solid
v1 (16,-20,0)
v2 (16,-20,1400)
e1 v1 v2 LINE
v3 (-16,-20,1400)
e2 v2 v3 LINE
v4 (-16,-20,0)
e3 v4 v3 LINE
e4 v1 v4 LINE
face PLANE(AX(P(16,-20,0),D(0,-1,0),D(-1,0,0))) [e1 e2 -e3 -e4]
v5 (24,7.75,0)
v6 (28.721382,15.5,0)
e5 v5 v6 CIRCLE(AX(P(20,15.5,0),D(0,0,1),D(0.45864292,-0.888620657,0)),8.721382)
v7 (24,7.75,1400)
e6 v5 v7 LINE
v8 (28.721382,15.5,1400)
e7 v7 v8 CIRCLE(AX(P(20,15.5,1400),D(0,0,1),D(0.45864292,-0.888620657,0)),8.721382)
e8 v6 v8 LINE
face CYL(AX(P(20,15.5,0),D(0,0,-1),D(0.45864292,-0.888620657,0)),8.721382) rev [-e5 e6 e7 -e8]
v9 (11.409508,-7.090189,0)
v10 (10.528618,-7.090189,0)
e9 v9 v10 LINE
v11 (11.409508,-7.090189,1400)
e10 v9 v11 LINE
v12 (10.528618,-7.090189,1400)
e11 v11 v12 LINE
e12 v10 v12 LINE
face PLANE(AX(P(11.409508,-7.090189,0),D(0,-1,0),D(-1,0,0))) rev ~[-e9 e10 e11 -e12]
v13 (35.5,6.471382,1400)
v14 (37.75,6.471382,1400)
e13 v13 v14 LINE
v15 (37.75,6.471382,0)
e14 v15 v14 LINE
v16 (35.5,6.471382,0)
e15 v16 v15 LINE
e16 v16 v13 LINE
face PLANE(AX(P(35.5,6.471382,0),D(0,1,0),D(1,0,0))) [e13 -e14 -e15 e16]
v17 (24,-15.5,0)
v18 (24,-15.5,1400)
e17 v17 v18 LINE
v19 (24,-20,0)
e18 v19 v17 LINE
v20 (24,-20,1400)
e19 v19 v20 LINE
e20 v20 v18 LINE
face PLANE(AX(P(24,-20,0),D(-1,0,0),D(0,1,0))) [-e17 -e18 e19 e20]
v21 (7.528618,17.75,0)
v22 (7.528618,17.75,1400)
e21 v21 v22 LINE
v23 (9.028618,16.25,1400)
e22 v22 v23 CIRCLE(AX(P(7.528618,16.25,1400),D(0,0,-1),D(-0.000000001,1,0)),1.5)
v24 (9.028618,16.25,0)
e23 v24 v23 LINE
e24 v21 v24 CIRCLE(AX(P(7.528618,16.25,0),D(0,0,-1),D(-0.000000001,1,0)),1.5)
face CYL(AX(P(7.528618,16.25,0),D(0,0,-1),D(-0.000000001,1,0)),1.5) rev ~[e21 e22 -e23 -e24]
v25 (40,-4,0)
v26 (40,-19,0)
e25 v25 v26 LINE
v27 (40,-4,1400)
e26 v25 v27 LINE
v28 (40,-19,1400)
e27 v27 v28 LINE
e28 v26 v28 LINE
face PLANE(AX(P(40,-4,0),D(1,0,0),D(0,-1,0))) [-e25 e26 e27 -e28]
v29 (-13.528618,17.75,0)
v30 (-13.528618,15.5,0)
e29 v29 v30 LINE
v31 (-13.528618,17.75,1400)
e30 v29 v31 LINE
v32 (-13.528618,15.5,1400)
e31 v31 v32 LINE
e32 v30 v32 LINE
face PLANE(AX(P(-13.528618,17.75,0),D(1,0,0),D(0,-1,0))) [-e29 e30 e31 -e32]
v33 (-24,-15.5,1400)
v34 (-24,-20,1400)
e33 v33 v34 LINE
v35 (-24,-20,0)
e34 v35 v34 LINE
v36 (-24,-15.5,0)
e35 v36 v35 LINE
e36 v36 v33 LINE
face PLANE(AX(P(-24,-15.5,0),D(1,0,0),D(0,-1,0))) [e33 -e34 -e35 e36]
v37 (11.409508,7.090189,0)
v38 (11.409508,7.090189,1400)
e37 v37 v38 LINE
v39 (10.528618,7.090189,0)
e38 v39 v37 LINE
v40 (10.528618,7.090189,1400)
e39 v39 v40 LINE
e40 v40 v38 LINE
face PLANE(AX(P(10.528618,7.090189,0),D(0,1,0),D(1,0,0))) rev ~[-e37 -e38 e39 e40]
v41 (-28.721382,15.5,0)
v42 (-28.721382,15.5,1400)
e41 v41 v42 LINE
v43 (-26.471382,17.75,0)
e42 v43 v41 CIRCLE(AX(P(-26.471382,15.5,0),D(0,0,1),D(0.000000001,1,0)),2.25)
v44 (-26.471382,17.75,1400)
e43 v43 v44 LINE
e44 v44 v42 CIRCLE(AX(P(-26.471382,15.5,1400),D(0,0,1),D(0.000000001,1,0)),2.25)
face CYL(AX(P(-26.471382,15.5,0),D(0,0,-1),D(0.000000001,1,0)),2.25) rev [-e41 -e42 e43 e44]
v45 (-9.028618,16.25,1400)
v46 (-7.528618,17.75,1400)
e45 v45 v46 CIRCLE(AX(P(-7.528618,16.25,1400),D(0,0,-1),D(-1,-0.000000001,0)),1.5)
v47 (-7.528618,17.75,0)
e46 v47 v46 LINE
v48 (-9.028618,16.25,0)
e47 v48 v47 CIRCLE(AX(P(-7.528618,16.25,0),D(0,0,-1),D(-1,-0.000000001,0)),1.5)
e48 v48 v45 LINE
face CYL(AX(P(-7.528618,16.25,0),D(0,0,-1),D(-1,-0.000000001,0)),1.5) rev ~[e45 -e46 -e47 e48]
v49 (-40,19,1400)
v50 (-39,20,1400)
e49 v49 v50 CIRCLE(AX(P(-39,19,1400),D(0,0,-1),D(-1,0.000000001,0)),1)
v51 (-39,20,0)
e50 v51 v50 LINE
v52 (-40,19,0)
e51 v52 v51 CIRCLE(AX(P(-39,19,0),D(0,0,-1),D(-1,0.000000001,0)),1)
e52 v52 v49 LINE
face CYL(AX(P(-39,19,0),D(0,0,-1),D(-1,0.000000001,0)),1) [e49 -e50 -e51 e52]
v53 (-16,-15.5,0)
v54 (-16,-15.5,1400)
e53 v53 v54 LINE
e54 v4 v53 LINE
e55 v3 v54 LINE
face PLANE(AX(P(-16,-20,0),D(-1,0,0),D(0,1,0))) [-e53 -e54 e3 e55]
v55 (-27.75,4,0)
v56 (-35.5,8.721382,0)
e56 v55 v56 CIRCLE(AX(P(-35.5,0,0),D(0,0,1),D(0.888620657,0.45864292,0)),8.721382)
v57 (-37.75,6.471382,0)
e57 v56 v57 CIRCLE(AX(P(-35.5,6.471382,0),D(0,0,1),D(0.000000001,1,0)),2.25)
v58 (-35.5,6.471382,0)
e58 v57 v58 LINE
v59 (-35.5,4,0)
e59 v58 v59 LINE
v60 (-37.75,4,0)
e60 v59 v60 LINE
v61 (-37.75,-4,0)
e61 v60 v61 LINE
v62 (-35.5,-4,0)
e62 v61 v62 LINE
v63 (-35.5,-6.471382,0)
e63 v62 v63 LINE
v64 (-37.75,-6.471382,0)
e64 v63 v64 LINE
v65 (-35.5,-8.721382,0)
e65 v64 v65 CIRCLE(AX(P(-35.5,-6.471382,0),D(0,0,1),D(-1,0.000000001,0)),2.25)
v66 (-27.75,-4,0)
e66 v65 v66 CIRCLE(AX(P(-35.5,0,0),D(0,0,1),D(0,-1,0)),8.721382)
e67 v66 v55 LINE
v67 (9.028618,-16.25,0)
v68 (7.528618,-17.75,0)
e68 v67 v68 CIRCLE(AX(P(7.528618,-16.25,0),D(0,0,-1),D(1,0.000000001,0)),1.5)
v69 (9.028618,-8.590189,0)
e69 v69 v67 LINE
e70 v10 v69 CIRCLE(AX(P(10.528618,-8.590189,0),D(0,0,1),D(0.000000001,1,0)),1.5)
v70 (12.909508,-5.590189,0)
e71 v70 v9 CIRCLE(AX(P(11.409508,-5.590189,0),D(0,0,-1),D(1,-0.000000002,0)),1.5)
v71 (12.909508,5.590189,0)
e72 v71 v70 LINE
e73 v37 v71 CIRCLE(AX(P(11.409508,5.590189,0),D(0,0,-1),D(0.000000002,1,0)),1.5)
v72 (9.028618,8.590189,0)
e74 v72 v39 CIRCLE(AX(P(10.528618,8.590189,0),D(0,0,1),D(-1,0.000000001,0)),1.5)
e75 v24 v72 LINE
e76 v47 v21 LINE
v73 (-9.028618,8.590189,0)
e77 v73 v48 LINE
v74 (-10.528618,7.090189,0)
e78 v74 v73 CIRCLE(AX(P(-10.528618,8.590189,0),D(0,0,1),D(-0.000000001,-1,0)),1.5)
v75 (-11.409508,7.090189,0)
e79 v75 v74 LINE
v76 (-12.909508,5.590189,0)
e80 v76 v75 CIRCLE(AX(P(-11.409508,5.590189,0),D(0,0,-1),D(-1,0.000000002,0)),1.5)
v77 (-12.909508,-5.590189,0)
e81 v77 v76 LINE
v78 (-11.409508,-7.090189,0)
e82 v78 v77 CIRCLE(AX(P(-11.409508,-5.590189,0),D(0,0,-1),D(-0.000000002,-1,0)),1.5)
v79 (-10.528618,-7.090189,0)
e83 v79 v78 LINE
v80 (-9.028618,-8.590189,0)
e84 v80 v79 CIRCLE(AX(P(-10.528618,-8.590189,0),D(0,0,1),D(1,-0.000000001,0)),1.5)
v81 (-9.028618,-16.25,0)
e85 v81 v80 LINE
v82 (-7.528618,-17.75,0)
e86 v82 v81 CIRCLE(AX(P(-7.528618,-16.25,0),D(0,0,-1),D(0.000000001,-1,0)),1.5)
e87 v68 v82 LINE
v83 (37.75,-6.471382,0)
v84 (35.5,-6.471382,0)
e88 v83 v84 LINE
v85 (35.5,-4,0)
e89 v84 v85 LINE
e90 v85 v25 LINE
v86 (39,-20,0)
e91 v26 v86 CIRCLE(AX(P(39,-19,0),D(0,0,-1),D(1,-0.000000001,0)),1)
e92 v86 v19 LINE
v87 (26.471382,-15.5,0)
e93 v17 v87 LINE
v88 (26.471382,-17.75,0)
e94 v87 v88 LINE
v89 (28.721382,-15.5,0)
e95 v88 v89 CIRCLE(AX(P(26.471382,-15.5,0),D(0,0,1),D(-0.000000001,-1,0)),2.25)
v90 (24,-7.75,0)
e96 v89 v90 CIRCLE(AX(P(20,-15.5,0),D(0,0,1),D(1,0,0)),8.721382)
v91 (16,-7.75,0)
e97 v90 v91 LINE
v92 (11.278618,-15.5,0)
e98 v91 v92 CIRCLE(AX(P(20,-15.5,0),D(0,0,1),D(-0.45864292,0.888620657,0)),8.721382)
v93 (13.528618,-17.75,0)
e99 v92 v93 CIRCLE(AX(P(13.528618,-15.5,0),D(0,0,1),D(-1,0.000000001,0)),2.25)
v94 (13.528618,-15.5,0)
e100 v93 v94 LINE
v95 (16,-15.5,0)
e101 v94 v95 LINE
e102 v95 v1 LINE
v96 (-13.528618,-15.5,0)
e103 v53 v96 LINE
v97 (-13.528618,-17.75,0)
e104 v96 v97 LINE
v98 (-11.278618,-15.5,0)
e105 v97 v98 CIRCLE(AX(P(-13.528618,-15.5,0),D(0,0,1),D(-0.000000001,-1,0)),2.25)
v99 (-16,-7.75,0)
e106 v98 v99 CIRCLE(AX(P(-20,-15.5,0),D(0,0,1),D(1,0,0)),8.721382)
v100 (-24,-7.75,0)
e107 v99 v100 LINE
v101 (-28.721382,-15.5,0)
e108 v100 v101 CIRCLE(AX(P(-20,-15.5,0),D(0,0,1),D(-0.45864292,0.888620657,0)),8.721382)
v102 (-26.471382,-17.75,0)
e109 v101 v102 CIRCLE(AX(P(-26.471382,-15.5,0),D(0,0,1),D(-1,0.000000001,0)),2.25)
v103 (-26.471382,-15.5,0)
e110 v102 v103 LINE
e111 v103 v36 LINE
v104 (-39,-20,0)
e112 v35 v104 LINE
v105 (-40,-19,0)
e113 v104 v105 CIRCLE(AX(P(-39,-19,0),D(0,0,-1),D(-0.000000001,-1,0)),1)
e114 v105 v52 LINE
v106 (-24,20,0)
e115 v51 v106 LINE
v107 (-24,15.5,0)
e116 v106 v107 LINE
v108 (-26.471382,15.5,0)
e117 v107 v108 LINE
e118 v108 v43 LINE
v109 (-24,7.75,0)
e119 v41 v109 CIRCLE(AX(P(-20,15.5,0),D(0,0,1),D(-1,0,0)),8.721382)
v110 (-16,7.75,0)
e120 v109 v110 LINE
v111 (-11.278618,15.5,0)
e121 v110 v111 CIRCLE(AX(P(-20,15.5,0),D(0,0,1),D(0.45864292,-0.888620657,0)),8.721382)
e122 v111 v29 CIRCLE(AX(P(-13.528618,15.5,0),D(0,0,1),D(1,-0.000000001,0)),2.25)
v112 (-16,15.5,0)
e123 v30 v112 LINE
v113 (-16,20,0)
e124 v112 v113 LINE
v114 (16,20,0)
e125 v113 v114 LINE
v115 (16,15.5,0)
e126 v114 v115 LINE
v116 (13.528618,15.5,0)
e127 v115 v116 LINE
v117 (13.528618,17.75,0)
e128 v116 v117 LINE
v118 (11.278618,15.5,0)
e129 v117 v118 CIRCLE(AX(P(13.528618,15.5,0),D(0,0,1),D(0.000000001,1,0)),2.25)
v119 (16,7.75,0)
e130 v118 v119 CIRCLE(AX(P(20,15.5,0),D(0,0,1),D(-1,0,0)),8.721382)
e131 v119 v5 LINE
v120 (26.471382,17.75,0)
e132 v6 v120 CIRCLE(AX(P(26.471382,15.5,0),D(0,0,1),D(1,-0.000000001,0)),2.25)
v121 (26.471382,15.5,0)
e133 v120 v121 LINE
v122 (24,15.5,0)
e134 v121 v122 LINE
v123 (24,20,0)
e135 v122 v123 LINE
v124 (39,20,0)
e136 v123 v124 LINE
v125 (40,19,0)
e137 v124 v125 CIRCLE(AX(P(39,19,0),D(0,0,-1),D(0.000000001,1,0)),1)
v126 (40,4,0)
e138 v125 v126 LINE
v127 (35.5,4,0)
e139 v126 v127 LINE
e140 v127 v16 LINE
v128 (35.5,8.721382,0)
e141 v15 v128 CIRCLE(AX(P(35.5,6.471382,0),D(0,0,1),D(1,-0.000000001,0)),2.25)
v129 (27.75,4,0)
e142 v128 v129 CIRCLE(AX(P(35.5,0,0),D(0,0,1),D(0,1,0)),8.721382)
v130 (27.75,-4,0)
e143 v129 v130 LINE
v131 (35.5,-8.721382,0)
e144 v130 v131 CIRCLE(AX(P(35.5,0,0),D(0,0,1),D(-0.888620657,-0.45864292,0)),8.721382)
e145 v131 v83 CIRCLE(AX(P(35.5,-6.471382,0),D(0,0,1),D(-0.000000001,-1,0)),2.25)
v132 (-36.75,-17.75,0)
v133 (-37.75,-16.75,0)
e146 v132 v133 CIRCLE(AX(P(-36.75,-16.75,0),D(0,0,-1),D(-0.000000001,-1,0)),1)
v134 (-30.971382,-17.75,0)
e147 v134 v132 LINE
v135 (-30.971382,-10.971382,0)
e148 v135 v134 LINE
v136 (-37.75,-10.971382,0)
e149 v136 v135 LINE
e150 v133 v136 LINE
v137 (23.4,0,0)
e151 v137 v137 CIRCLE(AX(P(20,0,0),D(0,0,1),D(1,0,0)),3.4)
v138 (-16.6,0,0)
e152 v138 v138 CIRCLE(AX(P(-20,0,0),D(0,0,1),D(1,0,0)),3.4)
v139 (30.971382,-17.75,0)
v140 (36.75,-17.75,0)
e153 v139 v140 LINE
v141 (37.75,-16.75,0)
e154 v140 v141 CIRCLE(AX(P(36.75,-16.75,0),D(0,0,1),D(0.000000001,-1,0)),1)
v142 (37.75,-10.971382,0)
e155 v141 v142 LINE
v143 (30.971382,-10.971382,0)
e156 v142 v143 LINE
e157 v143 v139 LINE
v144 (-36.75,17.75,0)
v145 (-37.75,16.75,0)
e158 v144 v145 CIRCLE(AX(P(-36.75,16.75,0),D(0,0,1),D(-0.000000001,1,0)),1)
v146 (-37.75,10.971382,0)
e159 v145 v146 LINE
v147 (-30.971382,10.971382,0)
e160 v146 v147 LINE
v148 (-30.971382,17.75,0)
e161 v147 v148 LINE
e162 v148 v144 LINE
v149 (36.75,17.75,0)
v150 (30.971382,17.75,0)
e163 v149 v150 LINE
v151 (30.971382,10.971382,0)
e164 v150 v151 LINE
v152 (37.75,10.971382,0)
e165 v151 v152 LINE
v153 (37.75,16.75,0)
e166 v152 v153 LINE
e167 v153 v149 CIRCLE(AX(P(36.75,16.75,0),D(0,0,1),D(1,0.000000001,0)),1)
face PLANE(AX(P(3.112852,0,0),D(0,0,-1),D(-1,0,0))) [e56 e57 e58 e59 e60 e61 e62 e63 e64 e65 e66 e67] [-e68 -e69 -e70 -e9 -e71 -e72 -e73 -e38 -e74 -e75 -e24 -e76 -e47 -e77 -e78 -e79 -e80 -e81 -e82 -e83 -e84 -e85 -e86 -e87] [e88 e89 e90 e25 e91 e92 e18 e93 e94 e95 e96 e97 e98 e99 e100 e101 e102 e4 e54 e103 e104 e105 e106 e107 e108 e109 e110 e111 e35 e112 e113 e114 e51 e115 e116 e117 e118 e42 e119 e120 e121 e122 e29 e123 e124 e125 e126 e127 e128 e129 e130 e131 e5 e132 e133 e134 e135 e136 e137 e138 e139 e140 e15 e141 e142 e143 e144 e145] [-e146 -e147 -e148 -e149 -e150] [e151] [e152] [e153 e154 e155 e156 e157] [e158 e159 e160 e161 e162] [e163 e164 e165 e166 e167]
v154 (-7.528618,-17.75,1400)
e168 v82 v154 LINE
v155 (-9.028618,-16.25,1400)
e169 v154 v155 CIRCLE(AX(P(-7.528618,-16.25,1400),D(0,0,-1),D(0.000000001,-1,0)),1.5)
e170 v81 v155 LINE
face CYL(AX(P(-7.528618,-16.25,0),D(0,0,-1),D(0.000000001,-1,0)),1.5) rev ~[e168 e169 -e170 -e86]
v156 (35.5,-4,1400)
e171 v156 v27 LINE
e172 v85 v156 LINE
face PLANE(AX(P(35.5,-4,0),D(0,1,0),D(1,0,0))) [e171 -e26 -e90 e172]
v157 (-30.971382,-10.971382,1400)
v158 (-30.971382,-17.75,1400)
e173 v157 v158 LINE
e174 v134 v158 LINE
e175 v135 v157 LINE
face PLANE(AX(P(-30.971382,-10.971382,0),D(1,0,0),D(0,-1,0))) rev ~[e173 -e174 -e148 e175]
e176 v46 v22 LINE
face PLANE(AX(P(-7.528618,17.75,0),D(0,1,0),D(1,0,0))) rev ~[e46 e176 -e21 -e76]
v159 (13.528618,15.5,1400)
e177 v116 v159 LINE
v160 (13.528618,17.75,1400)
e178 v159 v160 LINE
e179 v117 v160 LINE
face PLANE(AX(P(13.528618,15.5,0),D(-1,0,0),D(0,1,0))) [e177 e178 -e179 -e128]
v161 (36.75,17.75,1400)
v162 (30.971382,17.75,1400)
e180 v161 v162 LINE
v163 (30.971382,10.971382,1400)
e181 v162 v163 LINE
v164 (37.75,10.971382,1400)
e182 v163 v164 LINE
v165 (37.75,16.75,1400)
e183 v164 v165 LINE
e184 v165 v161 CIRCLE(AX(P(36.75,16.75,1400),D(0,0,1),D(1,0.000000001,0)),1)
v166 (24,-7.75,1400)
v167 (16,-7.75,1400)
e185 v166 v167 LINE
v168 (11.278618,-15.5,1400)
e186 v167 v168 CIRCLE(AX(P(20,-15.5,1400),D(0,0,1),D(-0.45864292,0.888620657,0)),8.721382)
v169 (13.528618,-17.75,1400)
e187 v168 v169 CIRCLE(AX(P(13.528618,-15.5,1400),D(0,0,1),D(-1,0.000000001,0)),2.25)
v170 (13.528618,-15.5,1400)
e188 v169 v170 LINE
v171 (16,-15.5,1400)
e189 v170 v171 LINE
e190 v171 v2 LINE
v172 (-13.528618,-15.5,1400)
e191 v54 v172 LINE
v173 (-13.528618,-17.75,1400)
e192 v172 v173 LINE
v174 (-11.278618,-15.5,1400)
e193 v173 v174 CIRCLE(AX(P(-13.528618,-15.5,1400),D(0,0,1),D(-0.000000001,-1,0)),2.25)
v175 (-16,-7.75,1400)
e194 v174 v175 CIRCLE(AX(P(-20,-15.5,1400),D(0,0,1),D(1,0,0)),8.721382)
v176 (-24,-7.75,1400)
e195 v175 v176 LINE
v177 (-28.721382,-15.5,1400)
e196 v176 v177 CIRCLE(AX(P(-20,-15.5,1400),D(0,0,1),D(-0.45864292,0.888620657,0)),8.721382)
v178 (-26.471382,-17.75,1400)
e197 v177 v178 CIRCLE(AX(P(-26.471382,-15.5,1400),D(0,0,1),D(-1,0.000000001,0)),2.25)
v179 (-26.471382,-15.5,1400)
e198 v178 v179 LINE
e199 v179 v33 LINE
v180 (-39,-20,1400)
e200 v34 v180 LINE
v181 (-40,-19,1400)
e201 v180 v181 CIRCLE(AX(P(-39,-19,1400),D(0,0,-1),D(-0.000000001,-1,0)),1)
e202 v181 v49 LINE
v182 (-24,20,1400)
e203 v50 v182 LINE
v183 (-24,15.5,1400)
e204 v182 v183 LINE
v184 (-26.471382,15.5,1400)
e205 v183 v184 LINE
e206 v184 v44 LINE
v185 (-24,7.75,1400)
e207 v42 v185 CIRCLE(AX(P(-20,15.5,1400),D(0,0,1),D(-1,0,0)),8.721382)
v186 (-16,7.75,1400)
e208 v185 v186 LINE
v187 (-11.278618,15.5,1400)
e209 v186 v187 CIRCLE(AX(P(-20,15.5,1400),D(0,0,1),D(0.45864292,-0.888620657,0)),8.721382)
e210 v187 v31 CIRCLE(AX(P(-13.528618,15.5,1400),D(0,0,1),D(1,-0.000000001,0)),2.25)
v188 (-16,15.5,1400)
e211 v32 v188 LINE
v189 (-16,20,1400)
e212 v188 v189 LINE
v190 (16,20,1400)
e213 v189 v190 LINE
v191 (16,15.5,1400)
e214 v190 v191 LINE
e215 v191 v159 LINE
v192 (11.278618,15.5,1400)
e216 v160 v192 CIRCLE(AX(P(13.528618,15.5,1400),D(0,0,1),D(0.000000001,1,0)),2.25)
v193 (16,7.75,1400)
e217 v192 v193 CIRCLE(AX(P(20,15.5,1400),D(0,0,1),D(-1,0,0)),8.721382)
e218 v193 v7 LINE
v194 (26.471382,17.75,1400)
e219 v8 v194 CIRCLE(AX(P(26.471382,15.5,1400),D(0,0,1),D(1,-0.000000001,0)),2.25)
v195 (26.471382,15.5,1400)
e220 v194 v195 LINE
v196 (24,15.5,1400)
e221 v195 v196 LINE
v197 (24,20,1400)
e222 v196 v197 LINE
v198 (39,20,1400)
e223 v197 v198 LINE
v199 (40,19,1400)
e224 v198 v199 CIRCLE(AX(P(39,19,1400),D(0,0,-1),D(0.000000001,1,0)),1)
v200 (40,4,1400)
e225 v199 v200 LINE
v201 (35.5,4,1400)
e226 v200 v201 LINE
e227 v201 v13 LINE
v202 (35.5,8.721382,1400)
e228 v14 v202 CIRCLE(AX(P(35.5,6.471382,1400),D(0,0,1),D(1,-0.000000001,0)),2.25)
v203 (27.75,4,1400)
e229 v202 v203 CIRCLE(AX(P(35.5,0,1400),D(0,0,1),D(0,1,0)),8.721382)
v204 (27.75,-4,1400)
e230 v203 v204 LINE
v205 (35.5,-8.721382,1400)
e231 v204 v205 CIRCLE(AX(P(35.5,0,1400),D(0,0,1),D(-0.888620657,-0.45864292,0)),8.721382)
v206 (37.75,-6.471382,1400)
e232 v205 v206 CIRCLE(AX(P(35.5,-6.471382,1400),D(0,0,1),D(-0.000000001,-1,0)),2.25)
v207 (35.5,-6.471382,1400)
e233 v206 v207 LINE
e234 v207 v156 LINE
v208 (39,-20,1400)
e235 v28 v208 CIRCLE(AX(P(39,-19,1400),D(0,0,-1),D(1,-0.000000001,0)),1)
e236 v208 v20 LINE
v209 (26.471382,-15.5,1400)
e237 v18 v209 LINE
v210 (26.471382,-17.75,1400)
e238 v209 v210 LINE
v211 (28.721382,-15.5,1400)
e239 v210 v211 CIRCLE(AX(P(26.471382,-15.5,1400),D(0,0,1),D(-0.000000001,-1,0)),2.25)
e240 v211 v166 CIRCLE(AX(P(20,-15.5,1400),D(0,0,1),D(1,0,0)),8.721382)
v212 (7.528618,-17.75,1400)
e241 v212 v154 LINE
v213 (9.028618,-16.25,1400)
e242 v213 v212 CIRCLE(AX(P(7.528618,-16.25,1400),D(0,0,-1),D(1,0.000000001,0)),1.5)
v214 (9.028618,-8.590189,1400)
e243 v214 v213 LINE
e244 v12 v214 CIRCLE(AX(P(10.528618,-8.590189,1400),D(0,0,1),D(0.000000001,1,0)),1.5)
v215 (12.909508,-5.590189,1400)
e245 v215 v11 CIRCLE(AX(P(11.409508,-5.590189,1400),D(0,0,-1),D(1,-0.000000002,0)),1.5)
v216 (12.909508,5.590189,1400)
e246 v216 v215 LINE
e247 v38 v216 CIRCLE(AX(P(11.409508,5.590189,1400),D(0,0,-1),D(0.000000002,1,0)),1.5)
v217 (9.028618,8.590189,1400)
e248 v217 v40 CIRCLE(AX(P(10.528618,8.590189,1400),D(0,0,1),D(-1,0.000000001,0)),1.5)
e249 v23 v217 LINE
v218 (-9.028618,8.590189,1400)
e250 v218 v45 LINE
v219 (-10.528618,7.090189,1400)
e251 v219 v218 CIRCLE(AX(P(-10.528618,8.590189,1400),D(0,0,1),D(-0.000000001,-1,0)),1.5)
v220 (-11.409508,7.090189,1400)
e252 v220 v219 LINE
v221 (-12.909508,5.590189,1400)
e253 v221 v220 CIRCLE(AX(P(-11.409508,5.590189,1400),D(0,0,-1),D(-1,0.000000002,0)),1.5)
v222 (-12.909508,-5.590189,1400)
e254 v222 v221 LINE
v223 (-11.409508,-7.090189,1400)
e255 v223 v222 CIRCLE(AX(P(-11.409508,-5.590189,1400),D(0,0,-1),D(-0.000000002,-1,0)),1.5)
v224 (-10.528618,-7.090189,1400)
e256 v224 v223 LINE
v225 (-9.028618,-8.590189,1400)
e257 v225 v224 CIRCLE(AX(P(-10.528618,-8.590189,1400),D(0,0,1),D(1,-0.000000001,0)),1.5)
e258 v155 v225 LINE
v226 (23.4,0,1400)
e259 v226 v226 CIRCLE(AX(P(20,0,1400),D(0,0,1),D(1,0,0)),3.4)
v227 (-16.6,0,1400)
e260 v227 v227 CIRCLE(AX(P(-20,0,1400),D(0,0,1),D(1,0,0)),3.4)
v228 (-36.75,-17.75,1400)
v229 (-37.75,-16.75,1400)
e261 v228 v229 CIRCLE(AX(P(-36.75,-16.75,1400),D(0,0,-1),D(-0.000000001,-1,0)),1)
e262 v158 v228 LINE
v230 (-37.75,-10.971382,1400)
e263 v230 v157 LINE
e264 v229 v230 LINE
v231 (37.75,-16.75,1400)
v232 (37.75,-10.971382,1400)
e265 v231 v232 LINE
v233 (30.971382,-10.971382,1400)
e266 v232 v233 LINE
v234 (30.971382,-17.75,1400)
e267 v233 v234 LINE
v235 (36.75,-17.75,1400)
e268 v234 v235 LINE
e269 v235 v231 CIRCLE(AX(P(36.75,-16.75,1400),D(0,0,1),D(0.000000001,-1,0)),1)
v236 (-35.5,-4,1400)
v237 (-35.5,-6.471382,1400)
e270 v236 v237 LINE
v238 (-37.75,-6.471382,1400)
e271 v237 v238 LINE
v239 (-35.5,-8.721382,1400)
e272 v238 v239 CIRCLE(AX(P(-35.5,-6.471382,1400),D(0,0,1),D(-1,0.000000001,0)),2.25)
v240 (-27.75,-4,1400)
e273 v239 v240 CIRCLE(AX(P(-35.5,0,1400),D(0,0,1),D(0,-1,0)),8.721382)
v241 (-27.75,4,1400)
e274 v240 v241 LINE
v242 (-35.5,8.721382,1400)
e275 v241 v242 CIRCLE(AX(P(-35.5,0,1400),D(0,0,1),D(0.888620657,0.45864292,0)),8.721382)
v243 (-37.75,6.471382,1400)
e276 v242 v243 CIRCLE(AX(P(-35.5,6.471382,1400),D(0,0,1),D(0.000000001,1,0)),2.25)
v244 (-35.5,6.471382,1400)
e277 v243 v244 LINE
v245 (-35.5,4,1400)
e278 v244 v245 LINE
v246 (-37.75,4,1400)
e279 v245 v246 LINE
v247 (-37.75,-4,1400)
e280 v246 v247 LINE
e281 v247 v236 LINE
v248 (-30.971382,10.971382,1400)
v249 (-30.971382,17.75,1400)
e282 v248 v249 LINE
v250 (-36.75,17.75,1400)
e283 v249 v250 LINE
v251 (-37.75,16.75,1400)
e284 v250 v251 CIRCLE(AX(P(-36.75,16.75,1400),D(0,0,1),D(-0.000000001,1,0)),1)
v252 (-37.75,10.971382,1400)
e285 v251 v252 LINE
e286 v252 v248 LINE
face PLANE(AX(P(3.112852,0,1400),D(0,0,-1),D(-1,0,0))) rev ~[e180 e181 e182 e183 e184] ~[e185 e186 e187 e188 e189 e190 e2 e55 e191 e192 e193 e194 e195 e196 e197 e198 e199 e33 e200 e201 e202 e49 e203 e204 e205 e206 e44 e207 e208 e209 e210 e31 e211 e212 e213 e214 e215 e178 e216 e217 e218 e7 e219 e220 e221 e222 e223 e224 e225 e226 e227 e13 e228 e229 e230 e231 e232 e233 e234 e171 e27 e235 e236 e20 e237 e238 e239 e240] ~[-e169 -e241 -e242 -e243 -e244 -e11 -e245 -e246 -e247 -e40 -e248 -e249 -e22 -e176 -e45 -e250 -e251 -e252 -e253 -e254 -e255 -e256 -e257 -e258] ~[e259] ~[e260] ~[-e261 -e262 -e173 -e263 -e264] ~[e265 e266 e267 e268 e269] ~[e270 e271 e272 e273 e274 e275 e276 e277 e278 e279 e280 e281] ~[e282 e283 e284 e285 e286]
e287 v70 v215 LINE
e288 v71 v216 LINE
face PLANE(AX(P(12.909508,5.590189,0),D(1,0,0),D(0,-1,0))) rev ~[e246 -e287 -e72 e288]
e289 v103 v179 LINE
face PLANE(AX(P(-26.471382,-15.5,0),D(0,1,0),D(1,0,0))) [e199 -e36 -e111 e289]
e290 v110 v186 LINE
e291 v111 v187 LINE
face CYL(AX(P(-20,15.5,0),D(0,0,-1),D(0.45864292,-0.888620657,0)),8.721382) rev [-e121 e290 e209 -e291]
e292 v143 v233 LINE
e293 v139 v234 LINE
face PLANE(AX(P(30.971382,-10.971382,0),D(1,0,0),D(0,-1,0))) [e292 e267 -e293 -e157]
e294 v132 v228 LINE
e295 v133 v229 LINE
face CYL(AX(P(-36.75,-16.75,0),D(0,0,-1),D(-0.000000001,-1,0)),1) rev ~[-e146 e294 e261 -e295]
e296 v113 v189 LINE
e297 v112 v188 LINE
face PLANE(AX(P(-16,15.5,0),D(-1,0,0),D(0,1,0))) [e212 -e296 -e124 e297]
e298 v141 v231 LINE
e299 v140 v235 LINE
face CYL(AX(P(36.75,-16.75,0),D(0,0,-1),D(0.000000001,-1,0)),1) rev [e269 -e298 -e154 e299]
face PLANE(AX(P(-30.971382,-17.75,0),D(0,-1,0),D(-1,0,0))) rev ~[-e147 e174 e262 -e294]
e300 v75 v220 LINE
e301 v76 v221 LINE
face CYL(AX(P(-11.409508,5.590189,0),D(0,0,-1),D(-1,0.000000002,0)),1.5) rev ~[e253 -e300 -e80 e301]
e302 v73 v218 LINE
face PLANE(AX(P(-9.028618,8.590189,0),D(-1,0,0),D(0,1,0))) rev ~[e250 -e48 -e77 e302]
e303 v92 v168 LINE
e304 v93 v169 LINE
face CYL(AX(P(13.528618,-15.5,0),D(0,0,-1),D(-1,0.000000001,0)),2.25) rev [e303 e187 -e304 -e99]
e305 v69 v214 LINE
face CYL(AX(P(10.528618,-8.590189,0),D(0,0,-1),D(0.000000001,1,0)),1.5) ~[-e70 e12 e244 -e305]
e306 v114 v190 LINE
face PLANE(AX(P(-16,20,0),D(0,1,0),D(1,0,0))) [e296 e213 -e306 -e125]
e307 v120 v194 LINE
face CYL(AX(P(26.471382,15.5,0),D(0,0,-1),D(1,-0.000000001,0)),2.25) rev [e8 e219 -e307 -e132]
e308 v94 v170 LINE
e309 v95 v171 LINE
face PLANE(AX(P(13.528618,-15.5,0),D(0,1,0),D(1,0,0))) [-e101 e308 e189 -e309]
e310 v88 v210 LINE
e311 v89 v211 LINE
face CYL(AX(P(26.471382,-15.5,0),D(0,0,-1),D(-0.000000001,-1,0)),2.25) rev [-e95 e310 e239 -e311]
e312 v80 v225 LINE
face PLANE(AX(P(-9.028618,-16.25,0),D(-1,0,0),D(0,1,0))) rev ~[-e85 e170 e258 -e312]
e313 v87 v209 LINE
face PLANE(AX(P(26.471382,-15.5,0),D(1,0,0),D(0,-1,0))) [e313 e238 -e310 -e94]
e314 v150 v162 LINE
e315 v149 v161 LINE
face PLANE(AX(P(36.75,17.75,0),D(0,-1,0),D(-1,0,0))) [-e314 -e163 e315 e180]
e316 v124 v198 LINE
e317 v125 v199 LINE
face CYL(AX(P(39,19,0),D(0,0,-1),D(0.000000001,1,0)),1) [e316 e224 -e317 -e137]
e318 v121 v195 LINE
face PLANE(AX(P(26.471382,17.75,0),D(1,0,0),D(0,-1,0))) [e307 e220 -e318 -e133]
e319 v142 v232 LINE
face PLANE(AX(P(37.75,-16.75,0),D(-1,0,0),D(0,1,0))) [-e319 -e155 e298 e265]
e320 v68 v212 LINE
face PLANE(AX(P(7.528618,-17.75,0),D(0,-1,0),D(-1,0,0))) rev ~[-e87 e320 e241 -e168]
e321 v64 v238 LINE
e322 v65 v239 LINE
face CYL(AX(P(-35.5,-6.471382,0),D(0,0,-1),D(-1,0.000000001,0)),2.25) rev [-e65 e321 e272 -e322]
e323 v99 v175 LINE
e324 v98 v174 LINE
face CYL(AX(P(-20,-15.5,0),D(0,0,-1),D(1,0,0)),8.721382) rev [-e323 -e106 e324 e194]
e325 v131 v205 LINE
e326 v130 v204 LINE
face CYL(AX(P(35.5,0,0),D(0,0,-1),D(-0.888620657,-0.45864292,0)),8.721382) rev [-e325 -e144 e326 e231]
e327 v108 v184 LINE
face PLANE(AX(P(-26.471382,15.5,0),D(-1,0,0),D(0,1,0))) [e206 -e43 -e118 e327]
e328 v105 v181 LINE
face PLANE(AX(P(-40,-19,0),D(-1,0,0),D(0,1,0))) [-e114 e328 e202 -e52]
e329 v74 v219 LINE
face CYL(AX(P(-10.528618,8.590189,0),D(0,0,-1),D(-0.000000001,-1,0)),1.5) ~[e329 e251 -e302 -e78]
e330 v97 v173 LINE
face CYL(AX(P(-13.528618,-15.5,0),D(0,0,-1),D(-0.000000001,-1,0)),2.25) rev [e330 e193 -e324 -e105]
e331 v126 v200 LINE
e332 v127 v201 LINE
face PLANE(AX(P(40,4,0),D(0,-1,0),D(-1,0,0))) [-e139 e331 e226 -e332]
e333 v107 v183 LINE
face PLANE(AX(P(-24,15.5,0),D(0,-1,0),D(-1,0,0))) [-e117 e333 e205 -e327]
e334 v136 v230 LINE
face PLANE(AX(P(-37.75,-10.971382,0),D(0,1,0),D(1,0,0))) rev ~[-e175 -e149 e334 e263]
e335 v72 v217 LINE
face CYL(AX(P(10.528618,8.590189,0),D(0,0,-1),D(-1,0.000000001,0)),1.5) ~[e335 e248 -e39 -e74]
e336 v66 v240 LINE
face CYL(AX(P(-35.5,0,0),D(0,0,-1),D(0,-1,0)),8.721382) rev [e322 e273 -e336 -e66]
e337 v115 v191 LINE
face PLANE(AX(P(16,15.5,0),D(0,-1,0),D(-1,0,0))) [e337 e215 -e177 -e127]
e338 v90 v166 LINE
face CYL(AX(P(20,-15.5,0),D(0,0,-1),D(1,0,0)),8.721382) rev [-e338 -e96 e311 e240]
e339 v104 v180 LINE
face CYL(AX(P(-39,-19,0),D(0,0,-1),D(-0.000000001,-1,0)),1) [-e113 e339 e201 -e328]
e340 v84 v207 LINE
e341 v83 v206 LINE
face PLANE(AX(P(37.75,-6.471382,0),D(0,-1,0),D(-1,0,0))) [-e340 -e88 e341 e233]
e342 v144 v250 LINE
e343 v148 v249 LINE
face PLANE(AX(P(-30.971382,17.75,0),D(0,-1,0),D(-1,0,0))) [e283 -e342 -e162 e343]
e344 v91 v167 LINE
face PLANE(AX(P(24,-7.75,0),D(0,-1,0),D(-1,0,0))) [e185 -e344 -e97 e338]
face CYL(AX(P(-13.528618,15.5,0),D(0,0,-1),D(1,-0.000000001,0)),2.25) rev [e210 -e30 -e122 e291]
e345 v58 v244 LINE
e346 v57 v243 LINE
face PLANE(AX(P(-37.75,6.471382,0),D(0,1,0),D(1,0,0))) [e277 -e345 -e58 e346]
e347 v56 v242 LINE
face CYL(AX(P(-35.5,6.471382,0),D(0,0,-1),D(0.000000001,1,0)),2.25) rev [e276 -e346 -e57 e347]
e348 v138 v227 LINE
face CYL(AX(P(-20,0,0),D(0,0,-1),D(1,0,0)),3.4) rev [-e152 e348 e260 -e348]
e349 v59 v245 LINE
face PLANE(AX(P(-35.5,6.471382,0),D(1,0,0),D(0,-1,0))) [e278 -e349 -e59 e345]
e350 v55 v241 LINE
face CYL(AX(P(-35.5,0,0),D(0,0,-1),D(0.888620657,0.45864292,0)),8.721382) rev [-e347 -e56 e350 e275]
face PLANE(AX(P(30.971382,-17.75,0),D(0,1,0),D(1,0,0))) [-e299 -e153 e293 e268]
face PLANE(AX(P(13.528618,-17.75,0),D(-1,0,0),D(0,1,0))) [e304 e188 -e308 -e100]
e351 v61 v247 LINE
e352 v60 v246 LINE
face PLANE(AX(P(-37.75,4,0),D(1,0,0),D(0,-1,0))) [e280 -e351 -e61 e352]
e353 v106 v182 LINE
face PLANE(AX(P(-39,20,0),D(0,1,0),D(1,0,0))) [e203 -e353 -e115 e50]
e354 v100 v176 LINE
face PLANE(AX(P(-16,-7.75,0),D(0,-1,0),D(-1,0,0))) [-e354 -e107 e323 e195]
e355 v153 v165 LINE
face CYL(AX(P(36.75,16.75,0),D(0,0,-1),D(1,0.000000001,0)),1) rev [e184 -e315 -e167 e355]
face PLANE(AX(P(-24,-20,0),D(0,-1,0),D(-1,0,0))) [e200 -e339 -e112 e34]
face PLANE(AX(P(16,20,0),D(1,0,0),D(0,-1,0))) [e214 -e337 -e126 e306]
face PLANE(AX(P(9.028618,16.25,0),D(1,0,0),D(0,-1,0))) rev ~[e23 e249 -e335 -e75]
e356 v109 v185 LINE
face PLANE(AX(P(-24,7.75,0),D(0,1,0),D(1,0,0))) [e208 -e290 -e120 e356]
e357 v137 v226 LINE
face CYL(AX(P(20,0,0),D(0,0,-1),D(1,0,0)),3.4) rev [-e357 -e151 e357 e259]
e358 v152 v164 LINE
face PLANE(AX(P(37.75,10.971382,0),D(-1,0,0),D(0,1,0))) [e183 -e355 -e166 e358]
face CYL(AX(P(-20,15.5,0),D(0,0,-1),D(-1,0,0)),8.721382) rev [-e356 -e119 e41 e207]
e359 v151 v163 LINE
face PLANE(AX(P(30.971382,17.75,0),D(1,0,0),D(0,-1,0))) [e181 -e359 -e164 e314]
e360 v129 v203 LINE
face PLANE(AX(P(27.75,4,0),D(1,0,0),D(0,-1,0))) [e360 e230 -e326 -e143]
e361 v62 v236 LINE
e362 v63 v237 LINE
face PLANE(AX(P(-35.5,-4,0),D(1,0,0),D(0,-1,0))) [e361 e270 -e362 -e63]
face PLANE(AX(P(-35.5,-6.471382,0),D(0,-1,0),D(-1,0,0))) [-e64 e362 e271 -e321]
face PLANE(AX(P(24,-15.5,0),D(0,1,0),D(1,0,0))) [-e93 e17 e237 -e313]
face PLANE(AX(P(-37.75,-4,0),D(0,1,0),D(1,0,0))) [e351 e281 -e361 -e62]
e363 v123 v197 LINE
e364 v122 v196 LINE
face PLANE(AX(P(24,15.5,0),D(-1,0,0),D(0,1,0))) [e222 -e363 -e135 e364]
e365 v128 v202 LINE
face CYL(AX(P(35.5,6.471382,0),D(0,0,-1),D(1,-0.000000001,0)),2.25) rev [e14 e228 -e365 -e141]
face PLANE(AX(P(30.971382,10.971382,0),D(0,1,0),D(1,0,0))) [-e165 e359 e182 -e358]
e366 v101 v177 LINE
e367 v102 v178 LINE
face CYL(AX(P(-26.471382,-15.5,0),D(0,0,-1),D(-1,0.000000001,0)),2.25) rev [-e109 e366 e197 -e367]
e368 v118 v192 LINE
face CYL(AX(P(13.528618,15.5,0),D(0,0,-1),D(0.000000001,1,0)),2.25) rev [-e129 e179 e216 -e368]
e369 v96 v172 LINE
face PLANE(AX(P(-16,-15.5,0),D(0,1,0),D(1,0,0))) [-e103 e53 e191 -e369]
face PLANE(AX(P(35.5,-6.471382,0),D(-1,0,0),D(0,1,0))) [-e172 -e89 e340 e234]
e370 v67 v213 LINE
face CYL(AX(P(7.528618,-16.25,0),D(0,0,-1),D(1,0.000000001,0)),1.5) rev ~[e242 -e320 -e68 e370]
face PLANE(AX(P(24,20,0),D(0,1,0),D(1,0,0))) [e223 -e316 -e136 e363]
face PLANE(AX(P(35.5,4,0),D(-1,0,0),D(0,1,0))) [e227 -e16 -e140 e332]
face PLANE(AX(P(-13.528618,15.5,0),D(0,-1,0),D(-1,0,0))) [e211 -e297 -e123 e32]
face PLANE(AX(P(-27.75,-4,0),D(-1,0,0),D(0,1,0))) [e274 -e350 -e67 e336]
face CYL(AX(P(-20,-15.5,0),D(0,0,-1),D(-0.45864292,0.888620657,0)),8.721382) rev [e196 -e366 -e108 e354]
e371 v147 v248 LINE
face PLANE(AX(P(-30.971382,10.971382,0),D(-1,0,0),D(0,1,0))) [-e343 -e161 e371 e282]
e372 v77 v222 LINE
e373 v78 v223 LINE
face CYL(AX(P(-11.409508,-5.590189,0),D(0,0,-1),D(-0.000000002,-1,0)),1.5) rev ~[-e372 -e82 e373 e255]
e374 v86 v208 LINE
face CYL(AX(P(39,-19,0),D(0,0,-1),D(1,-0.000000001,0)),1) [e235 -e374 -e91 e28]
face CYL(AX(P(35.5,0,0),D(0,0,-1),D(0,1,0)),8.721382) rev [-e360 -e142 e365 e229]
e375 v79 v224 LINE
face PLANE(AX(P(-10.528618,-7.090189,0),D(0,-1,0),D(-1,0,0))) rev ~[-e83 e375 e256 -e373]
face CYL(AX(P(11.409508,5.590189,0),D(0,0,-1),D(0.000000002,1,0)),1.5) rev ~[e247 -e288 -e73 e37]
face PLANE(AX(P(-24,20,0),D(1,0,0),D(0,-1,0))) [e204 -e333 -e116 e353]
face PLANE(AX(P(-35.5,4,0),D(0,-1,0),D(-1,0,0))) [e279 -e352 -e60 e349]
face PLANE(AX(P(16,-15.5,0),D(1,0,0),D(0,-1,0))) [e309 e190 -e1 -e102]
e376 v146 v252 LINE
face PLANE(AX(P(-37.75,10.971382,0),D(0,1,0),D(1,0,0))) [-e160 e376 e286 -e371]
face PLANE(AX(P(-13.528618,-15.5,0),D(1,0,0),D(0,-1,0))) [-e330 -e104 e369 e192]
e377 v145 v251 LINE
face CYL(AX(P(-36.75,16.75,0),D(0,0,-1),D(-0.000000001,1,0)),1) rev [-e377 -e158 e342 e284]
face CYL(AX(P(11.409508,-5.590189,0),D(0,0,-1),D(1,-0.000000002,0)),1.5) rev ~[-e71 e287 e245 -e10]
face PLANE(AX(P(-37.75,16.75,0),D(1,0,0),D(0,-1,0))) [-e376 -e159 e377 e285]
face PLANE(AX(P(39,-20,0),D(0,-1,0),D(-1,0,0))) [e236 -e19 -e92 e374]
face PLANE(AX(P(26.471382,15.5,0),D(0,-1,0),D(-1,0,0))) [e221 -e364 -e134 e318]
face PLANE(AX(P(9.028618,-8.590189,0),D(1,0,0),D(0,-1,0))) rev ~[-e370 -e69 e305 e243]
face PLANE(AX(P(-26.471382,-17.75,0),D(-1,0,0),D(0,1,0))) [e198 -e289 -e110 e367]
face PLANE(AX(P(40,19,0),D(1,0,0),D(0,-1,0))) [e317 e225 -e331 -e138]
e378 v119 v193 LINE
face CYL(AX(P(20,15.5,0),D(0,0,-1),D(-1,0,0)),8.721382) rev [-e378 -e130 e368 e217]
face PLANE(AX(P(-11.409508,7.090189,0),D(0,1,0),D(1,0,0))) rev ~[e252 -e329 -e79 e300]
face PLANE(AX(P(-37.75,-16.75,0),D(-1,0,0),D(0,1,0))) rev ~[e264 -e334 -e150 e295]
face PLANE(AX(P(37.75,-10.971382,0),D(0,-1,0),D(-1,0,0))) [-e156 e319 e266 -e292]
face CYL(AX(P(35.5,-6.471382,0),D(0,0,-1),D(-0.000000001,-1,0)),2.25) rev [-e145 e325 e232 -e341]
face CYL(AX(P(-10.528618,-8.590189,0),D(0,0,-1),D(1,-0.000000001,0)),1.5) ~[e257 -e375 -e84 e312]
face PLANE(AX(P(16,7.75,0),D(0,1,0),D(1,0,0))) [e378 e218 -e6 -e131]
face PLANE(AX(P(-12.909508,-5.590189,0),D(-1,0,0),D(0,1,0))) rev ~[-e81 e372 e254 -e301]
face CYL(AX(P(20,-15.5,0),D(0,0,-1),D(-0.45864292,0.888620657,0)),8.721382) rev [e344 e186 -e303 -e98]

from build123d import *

# Parameters (mm, degrees)
SZKIC1_R                    = 3.4
DODANIE_WYCI_GNI_CIE1_DEPTH = 1400


with BuildPart() as part:
    # Szkic1 → Dodanie-wyciągnięcie1 (new body)
    with BuildSketch(Plane.XY):
        with BuildLine():
            Line((-40, -19), (-40, 19))
            ThreePointArc((-40, 19), (-39.707106781, 19.707106781), (-39, 20))
            Line((-39, 20), (-24, 20))
            Line((-24, 20), (-24, 15.5))
            Line((-24, 15.5), (-26.471381771, 15.5))
            Line((-26.471381771, 15.5), (-26.471381771, 17.75))
            ThreePointArc((-26.471381771, 17.75), (-28.062372029, 17.090990258), (-28.721381771, 15.5))
            ThreePointArc((-28.721381771, 15.5), (-27.448087912, 10.962546258), (-24, 7.75))
            Line((-24, 7.75), (-16, 7.75))
            ThreePointArc((-16, 7.75), (-12.551912088, 10.962546258), (-11.278618229, 15.5))
            ThreePointArc((-11.278618229, 15.5), (-11.937627971, 17.090990258), (-13.528618229, 17.75))
            Line((-13.528618229, 17.75), (-13.528618229, 15.5))
            Line((-13.528618229, 15.5), (-16, 15.5))
            Line((-16, 15.5), (-16, 20))
            Line((-16, 20), (13.528618229, 20))
            Line((13.528618229, 20), (16, 20))
            Line((16, 20), (16, 15.5))
            Line((16, 15.5), (13.528618229, 15.5))
            Line((13.528618229, 15.5), (13.528618229, 17.75))
            ThreePointArc((13.528618229, 17.75), (11.937627971, 17.090990258), (11.278618229, 15.5))
            ThreePointArc((11.278618229, 15.5), (12.551912088, 10.962546258), (16, 7.75))
            Line((16, 7.75), (24, 7.75))
            ThreePointArc((24, 7.75), (27.448087912, 10.962546258), (28.721381771, 15.5))
            ThreePointArc((28.721381771, 15.5), (28.062372029, 17.090990258), (26.471381771, 17.75))
            Line((26.471381771, 17.75), (26.471381771, 15.5))
            Line((26.471381771, 15.5), (24, 15.5))
            Line((24, 15.5), (24, 20))
            Line((24, 20), (39, 20))
            ThreePointArc((39, 20), (39.707106781, 19.707106781), (40, 19))
            Line((40, 19), (40, 4))
            Line((40, 4), (35.5, 4))
            Line((35.5, 4), (35.5, 6.471381771))
            Line((35.5, 6.471381771), (37.75, 6.471381771))
            ThreePointArc((37.75, 6.471381771), (37.090990258, 8.062372029), (35.5, 8.721381771))
            ThreePointArc((35.5, 8.721381771), (30.962546258, 7.448087912), (27.75, 4))
            Line((27.75, 4), (27.75, -4))
            ThreePointArc((27.75, -4), (30.962546258, -7.448087912), (35.5, -8.721381771))
            ThreePointArc((35.5, -8.721381771), (37.090990258, -8.062372029), (37.75, -6.471381771))
            Line((37.75, -6.471381771), (35.5, -6.471381771))
            Line((35.5, -6.471381771), (35.5, -4))
            Line((35.5, -4), (40, -4))
            Line((40, -4), (40, -19))
            ThreePointArc((40, -19), (39.707106781, -19.707106781), (39, -20))
            Line((39, -20), (24, -20))
            Line((24, -20), (24, -15.5))
            Line((24, -15.5), (26.471381771, -15.5))
            Line((26.471381771, -15.5), (26.471381771, -17.75))
            ThreePointArc((26.471381771, -17.75), (28.062372029, -17.090990258), (28.721381771, -15.5))
            ThreePointArc((28.721381771, -15.5), (27.448087912, -10.962546258), (24, -7.75))
            Line((24, -7.75), (16, -7.75))
            ThreePointArc((16, -7.75), (12.551912088, -10.962546258), (11.278618229, -15.5))
            ThreePointArc((11.278618229, -15.5), (11.937627971, -17.090990258), (13.528618229, -17.75))
            Line((13.528618229, -17.75), (13.528618229, -15.5))
            Line((13.528618229, -15.5), (16, -15.5))
            Line((16, -15.5), (16, -20))
            Line((16, -20), (-16, -20))
            Line((-16, -20), (-16, -15.5))
            Line((-16, -15.5), (-13.528618229, -15.5))
            Line((-13.528618229, -15.5), (-13.528618229, -17.75))
            ThreePointArc((-13.528618229, -17.75), (-11.937627971, -17.090990258), (-11.278618229, -15.5))
            ThreePointArc((-11.278618229, -15.5), (-12.551912088, -10.962546258), (-16, -7.75))
            Line((-16, -7.75), (-24, -7.75))
            ThreePointArc((-24, -7.75), (-27.448087912, -10.962546258), (-28.721381771, -15.5))
            ThreePointArc((-28.721381771, -15.5), (-28.062372029, -17.090990258), (-26.471381771, -17.75))
            Line((-26.471381771, -17.75), (-26.471381771, -15.5))
            Line((-26.471381771, -15.5), (-24, -15.5))
            Line((-24, -15.5), (-24, -20))
            Line((-24, -20), (-39, -20))
            ThreePointArc((-39, -20), (-39.707106781, -19.707106781), (-40, -19))
        make_face()
        with Locations((-20, 0)):
            Circle(SZKIC1_R, mode=Mode.SUBTRACT)
        with Locations((20, 0)):
            Circle(SZKIC1_R, mode=Mode.SUBTRACT)
        with BuildLine():
            Line((30.971381771, -17.75), (36.75, -17.75))
            ThreePointArc((36.75, -17.75), (37.457106781, -17.457106781), (37.75, -16.75))
            Line((37.75, -16.75), (37.75, -10.971381771))
            Line((37.75, -10.971381771), (30.971381771, -10.971381771))
            Line((30.971381771, -10.971381771), (30.971381771, -17.75))
        make_face(mode=Mode.SUBTRACT)
        with BuildLine():
            Line((-35.5, -6.471381771), (-37.75, -6.471381771))
            ThreePointArc((-37.75, -6.471381771), (-37.090990258, -8.062372029), (-35.5, -8.721381771))
            ThreePointArc((-35.5, -8.721381771), (-30.962546258, -7.448087912), (-27.75, -4))
            Line((-27.75, -4), (-27.75, 4))
            ThreePointArc((-27.75, 4), (-30.962546258, 7.448087912), (-35.5, 8.721381771))
            ThreePointArc((-35.5, 8.721381771), (-37.090990258, 8.062372029), (-37.75, 6.471381771))
            Line((-37.75, 6.471381771), (-35.5, 6.471381771))
            Line((-35.5, 6.471381771), (-35.5, 4))
            Line((-35.5, 4), (-37.75, 4))
            Line((-37.75, 4), (-37.75, -4))
            Line((-37.75, -4), (-35.5, -4))
            Line((-35.5, -4), (-35.5, -6.471381771))
        make_face(mode=Mode.SUBTRACT)
        with BuildLine():
            Line((10.528618229, 7.090188806), (11.40950808, 7.090188806))
            ThreePointArc((11.40950808, 7.090188806), (12.470168251, 6.650848977), (12.90950808, 5.590188806))
            Line((12.90950808, 5.590188806), (12.90950808, -5.590188806))
            ThreePointArc((12.90950808, -5.590188806), (12.470168251, -6.650848977), (11.40950808, -7.090188806))
            Line((11.40950808, -7.090188806), (10.528618229, -7.090188806))
            ThreePointArc((10.528618229, -7.090188806), (9.467958057, -7.529528634), (9.028618229, -8.590188806))
            Line((9.028618229, -8.590188806), (9.028618229, -16.25))
            ThreePointArc((9.028618229, -16.25), (8.589278401, -17.310660172), (7.528618229, -17.75))
            Line((7.528618229, -17.75), (-7.528618229, -17.75))
            ThreePointArc((-7.528618229, -17.75), (-8.589278401, -17.310660172), (-9.028618229, -16.25))
            Line((-9.028618229, -16.25), (-9.028618229, -8.590188806))
            ThreePointArc((-9.028618229, -8.590188806), (-9.467958057, -7.529528634), (-10.528618229, -7.090188806))
            Line((-10.528618229, -7.090188806), (-11.40950808, -7.090188806))
            ThreePointArc((-11.40950808, -7.090188806), (-12.470168251, -6.650848977), (-12.90950808, -5.590188806))
            Line((-12.90950808, -5.590188806), (-12.90950808, 5.590188806))
            ThreePointArc((-12.90950808, 5.590188806), (-12.470168251, 6.650848977), (-11.40950808, 7.090188806))
            Line((-11.40950808, 7.090188806), (-10.528618229, 7.090188806))
            ThreePointArc((-10.528618229, 7.090188806), (-9.467958057, 7.529528634), (-9.028618229, 8.590188806))
            Line((-9.028618229, 8.590188806), (-9.028618229, 16.25))
            ThreePointArc((-9.028618229, 16.25), (-8.589278401, 17.310660172), (-7.528618229, 17.75))
            Line((-7.528618229, 17.75), (7.528618229, 17.75))
            ThreePointArc((7.528618229, 17.75), (8.589278401, 17.310660172), (9.028618229, 16.25))
            Line((9.028618229, 16.25), (9.028618229, 8.590188806))
            ThreePointArc((9.028618229, 8.590188806), (9.467958057, 7.529528634), (10.528618229, 7.090188806))
        make_face(mode=Mode.SUBTRACT)
        with BuildLine():
            Line((30.971381771, 10.971381771), (37.75, 10.971381771))
            Line((37.75, 10.971381771), (37.75, 16.75))
            ThreePointArc((37.75, 16.75), (37.457106781, 17.457106781), (36.75, 17.75))
            Line((36.75, 17.75), (30.971381771, 17.75))
            Line((30.971381771, 17.75), (30.971381771, 10.971381771))
        make_face(mode=Mode.SUBTRACT)
        with BuildLine():
            Line((-30.971381771, -10.971381771), (-30.971381771, -17.75))
            Line((-30.971381771, -17.75), (-36.75, -17.75))
            ThreePointArc((-36.75, -17.75), (-37.457106781, -17.457106781), (-37.75, -16.75))
            Line((-37.75, -16.75), (-37.75, -10.971381771))
            Line((-37.75, -10.971381771), (-30.971381771, -10.971381771))
        make_face(mode=Mode.SUBTRACT)
        with BuildLine():
            Line((-30.971381771, 17.75), (-36.75, 17.75))
            ThreePointArc((-36.75, 17.75), (-37.457106781, 17.457106781), (-37.75, 16.75))
            Line((-37.75, 16.75), (-37.75, 10.971381771))
            Line((-37.75, 10.971381771), (-30.971381771, 10.971381771))
            Line((-30.971381771, 10.971381771), (-30.971381771, 17.75))
        make_face(mode=Mode.SUBTRACT)
    extrude(amount=DODANIE_WYCI_GNI_CIE1_DEPTH)


solid = part.part
